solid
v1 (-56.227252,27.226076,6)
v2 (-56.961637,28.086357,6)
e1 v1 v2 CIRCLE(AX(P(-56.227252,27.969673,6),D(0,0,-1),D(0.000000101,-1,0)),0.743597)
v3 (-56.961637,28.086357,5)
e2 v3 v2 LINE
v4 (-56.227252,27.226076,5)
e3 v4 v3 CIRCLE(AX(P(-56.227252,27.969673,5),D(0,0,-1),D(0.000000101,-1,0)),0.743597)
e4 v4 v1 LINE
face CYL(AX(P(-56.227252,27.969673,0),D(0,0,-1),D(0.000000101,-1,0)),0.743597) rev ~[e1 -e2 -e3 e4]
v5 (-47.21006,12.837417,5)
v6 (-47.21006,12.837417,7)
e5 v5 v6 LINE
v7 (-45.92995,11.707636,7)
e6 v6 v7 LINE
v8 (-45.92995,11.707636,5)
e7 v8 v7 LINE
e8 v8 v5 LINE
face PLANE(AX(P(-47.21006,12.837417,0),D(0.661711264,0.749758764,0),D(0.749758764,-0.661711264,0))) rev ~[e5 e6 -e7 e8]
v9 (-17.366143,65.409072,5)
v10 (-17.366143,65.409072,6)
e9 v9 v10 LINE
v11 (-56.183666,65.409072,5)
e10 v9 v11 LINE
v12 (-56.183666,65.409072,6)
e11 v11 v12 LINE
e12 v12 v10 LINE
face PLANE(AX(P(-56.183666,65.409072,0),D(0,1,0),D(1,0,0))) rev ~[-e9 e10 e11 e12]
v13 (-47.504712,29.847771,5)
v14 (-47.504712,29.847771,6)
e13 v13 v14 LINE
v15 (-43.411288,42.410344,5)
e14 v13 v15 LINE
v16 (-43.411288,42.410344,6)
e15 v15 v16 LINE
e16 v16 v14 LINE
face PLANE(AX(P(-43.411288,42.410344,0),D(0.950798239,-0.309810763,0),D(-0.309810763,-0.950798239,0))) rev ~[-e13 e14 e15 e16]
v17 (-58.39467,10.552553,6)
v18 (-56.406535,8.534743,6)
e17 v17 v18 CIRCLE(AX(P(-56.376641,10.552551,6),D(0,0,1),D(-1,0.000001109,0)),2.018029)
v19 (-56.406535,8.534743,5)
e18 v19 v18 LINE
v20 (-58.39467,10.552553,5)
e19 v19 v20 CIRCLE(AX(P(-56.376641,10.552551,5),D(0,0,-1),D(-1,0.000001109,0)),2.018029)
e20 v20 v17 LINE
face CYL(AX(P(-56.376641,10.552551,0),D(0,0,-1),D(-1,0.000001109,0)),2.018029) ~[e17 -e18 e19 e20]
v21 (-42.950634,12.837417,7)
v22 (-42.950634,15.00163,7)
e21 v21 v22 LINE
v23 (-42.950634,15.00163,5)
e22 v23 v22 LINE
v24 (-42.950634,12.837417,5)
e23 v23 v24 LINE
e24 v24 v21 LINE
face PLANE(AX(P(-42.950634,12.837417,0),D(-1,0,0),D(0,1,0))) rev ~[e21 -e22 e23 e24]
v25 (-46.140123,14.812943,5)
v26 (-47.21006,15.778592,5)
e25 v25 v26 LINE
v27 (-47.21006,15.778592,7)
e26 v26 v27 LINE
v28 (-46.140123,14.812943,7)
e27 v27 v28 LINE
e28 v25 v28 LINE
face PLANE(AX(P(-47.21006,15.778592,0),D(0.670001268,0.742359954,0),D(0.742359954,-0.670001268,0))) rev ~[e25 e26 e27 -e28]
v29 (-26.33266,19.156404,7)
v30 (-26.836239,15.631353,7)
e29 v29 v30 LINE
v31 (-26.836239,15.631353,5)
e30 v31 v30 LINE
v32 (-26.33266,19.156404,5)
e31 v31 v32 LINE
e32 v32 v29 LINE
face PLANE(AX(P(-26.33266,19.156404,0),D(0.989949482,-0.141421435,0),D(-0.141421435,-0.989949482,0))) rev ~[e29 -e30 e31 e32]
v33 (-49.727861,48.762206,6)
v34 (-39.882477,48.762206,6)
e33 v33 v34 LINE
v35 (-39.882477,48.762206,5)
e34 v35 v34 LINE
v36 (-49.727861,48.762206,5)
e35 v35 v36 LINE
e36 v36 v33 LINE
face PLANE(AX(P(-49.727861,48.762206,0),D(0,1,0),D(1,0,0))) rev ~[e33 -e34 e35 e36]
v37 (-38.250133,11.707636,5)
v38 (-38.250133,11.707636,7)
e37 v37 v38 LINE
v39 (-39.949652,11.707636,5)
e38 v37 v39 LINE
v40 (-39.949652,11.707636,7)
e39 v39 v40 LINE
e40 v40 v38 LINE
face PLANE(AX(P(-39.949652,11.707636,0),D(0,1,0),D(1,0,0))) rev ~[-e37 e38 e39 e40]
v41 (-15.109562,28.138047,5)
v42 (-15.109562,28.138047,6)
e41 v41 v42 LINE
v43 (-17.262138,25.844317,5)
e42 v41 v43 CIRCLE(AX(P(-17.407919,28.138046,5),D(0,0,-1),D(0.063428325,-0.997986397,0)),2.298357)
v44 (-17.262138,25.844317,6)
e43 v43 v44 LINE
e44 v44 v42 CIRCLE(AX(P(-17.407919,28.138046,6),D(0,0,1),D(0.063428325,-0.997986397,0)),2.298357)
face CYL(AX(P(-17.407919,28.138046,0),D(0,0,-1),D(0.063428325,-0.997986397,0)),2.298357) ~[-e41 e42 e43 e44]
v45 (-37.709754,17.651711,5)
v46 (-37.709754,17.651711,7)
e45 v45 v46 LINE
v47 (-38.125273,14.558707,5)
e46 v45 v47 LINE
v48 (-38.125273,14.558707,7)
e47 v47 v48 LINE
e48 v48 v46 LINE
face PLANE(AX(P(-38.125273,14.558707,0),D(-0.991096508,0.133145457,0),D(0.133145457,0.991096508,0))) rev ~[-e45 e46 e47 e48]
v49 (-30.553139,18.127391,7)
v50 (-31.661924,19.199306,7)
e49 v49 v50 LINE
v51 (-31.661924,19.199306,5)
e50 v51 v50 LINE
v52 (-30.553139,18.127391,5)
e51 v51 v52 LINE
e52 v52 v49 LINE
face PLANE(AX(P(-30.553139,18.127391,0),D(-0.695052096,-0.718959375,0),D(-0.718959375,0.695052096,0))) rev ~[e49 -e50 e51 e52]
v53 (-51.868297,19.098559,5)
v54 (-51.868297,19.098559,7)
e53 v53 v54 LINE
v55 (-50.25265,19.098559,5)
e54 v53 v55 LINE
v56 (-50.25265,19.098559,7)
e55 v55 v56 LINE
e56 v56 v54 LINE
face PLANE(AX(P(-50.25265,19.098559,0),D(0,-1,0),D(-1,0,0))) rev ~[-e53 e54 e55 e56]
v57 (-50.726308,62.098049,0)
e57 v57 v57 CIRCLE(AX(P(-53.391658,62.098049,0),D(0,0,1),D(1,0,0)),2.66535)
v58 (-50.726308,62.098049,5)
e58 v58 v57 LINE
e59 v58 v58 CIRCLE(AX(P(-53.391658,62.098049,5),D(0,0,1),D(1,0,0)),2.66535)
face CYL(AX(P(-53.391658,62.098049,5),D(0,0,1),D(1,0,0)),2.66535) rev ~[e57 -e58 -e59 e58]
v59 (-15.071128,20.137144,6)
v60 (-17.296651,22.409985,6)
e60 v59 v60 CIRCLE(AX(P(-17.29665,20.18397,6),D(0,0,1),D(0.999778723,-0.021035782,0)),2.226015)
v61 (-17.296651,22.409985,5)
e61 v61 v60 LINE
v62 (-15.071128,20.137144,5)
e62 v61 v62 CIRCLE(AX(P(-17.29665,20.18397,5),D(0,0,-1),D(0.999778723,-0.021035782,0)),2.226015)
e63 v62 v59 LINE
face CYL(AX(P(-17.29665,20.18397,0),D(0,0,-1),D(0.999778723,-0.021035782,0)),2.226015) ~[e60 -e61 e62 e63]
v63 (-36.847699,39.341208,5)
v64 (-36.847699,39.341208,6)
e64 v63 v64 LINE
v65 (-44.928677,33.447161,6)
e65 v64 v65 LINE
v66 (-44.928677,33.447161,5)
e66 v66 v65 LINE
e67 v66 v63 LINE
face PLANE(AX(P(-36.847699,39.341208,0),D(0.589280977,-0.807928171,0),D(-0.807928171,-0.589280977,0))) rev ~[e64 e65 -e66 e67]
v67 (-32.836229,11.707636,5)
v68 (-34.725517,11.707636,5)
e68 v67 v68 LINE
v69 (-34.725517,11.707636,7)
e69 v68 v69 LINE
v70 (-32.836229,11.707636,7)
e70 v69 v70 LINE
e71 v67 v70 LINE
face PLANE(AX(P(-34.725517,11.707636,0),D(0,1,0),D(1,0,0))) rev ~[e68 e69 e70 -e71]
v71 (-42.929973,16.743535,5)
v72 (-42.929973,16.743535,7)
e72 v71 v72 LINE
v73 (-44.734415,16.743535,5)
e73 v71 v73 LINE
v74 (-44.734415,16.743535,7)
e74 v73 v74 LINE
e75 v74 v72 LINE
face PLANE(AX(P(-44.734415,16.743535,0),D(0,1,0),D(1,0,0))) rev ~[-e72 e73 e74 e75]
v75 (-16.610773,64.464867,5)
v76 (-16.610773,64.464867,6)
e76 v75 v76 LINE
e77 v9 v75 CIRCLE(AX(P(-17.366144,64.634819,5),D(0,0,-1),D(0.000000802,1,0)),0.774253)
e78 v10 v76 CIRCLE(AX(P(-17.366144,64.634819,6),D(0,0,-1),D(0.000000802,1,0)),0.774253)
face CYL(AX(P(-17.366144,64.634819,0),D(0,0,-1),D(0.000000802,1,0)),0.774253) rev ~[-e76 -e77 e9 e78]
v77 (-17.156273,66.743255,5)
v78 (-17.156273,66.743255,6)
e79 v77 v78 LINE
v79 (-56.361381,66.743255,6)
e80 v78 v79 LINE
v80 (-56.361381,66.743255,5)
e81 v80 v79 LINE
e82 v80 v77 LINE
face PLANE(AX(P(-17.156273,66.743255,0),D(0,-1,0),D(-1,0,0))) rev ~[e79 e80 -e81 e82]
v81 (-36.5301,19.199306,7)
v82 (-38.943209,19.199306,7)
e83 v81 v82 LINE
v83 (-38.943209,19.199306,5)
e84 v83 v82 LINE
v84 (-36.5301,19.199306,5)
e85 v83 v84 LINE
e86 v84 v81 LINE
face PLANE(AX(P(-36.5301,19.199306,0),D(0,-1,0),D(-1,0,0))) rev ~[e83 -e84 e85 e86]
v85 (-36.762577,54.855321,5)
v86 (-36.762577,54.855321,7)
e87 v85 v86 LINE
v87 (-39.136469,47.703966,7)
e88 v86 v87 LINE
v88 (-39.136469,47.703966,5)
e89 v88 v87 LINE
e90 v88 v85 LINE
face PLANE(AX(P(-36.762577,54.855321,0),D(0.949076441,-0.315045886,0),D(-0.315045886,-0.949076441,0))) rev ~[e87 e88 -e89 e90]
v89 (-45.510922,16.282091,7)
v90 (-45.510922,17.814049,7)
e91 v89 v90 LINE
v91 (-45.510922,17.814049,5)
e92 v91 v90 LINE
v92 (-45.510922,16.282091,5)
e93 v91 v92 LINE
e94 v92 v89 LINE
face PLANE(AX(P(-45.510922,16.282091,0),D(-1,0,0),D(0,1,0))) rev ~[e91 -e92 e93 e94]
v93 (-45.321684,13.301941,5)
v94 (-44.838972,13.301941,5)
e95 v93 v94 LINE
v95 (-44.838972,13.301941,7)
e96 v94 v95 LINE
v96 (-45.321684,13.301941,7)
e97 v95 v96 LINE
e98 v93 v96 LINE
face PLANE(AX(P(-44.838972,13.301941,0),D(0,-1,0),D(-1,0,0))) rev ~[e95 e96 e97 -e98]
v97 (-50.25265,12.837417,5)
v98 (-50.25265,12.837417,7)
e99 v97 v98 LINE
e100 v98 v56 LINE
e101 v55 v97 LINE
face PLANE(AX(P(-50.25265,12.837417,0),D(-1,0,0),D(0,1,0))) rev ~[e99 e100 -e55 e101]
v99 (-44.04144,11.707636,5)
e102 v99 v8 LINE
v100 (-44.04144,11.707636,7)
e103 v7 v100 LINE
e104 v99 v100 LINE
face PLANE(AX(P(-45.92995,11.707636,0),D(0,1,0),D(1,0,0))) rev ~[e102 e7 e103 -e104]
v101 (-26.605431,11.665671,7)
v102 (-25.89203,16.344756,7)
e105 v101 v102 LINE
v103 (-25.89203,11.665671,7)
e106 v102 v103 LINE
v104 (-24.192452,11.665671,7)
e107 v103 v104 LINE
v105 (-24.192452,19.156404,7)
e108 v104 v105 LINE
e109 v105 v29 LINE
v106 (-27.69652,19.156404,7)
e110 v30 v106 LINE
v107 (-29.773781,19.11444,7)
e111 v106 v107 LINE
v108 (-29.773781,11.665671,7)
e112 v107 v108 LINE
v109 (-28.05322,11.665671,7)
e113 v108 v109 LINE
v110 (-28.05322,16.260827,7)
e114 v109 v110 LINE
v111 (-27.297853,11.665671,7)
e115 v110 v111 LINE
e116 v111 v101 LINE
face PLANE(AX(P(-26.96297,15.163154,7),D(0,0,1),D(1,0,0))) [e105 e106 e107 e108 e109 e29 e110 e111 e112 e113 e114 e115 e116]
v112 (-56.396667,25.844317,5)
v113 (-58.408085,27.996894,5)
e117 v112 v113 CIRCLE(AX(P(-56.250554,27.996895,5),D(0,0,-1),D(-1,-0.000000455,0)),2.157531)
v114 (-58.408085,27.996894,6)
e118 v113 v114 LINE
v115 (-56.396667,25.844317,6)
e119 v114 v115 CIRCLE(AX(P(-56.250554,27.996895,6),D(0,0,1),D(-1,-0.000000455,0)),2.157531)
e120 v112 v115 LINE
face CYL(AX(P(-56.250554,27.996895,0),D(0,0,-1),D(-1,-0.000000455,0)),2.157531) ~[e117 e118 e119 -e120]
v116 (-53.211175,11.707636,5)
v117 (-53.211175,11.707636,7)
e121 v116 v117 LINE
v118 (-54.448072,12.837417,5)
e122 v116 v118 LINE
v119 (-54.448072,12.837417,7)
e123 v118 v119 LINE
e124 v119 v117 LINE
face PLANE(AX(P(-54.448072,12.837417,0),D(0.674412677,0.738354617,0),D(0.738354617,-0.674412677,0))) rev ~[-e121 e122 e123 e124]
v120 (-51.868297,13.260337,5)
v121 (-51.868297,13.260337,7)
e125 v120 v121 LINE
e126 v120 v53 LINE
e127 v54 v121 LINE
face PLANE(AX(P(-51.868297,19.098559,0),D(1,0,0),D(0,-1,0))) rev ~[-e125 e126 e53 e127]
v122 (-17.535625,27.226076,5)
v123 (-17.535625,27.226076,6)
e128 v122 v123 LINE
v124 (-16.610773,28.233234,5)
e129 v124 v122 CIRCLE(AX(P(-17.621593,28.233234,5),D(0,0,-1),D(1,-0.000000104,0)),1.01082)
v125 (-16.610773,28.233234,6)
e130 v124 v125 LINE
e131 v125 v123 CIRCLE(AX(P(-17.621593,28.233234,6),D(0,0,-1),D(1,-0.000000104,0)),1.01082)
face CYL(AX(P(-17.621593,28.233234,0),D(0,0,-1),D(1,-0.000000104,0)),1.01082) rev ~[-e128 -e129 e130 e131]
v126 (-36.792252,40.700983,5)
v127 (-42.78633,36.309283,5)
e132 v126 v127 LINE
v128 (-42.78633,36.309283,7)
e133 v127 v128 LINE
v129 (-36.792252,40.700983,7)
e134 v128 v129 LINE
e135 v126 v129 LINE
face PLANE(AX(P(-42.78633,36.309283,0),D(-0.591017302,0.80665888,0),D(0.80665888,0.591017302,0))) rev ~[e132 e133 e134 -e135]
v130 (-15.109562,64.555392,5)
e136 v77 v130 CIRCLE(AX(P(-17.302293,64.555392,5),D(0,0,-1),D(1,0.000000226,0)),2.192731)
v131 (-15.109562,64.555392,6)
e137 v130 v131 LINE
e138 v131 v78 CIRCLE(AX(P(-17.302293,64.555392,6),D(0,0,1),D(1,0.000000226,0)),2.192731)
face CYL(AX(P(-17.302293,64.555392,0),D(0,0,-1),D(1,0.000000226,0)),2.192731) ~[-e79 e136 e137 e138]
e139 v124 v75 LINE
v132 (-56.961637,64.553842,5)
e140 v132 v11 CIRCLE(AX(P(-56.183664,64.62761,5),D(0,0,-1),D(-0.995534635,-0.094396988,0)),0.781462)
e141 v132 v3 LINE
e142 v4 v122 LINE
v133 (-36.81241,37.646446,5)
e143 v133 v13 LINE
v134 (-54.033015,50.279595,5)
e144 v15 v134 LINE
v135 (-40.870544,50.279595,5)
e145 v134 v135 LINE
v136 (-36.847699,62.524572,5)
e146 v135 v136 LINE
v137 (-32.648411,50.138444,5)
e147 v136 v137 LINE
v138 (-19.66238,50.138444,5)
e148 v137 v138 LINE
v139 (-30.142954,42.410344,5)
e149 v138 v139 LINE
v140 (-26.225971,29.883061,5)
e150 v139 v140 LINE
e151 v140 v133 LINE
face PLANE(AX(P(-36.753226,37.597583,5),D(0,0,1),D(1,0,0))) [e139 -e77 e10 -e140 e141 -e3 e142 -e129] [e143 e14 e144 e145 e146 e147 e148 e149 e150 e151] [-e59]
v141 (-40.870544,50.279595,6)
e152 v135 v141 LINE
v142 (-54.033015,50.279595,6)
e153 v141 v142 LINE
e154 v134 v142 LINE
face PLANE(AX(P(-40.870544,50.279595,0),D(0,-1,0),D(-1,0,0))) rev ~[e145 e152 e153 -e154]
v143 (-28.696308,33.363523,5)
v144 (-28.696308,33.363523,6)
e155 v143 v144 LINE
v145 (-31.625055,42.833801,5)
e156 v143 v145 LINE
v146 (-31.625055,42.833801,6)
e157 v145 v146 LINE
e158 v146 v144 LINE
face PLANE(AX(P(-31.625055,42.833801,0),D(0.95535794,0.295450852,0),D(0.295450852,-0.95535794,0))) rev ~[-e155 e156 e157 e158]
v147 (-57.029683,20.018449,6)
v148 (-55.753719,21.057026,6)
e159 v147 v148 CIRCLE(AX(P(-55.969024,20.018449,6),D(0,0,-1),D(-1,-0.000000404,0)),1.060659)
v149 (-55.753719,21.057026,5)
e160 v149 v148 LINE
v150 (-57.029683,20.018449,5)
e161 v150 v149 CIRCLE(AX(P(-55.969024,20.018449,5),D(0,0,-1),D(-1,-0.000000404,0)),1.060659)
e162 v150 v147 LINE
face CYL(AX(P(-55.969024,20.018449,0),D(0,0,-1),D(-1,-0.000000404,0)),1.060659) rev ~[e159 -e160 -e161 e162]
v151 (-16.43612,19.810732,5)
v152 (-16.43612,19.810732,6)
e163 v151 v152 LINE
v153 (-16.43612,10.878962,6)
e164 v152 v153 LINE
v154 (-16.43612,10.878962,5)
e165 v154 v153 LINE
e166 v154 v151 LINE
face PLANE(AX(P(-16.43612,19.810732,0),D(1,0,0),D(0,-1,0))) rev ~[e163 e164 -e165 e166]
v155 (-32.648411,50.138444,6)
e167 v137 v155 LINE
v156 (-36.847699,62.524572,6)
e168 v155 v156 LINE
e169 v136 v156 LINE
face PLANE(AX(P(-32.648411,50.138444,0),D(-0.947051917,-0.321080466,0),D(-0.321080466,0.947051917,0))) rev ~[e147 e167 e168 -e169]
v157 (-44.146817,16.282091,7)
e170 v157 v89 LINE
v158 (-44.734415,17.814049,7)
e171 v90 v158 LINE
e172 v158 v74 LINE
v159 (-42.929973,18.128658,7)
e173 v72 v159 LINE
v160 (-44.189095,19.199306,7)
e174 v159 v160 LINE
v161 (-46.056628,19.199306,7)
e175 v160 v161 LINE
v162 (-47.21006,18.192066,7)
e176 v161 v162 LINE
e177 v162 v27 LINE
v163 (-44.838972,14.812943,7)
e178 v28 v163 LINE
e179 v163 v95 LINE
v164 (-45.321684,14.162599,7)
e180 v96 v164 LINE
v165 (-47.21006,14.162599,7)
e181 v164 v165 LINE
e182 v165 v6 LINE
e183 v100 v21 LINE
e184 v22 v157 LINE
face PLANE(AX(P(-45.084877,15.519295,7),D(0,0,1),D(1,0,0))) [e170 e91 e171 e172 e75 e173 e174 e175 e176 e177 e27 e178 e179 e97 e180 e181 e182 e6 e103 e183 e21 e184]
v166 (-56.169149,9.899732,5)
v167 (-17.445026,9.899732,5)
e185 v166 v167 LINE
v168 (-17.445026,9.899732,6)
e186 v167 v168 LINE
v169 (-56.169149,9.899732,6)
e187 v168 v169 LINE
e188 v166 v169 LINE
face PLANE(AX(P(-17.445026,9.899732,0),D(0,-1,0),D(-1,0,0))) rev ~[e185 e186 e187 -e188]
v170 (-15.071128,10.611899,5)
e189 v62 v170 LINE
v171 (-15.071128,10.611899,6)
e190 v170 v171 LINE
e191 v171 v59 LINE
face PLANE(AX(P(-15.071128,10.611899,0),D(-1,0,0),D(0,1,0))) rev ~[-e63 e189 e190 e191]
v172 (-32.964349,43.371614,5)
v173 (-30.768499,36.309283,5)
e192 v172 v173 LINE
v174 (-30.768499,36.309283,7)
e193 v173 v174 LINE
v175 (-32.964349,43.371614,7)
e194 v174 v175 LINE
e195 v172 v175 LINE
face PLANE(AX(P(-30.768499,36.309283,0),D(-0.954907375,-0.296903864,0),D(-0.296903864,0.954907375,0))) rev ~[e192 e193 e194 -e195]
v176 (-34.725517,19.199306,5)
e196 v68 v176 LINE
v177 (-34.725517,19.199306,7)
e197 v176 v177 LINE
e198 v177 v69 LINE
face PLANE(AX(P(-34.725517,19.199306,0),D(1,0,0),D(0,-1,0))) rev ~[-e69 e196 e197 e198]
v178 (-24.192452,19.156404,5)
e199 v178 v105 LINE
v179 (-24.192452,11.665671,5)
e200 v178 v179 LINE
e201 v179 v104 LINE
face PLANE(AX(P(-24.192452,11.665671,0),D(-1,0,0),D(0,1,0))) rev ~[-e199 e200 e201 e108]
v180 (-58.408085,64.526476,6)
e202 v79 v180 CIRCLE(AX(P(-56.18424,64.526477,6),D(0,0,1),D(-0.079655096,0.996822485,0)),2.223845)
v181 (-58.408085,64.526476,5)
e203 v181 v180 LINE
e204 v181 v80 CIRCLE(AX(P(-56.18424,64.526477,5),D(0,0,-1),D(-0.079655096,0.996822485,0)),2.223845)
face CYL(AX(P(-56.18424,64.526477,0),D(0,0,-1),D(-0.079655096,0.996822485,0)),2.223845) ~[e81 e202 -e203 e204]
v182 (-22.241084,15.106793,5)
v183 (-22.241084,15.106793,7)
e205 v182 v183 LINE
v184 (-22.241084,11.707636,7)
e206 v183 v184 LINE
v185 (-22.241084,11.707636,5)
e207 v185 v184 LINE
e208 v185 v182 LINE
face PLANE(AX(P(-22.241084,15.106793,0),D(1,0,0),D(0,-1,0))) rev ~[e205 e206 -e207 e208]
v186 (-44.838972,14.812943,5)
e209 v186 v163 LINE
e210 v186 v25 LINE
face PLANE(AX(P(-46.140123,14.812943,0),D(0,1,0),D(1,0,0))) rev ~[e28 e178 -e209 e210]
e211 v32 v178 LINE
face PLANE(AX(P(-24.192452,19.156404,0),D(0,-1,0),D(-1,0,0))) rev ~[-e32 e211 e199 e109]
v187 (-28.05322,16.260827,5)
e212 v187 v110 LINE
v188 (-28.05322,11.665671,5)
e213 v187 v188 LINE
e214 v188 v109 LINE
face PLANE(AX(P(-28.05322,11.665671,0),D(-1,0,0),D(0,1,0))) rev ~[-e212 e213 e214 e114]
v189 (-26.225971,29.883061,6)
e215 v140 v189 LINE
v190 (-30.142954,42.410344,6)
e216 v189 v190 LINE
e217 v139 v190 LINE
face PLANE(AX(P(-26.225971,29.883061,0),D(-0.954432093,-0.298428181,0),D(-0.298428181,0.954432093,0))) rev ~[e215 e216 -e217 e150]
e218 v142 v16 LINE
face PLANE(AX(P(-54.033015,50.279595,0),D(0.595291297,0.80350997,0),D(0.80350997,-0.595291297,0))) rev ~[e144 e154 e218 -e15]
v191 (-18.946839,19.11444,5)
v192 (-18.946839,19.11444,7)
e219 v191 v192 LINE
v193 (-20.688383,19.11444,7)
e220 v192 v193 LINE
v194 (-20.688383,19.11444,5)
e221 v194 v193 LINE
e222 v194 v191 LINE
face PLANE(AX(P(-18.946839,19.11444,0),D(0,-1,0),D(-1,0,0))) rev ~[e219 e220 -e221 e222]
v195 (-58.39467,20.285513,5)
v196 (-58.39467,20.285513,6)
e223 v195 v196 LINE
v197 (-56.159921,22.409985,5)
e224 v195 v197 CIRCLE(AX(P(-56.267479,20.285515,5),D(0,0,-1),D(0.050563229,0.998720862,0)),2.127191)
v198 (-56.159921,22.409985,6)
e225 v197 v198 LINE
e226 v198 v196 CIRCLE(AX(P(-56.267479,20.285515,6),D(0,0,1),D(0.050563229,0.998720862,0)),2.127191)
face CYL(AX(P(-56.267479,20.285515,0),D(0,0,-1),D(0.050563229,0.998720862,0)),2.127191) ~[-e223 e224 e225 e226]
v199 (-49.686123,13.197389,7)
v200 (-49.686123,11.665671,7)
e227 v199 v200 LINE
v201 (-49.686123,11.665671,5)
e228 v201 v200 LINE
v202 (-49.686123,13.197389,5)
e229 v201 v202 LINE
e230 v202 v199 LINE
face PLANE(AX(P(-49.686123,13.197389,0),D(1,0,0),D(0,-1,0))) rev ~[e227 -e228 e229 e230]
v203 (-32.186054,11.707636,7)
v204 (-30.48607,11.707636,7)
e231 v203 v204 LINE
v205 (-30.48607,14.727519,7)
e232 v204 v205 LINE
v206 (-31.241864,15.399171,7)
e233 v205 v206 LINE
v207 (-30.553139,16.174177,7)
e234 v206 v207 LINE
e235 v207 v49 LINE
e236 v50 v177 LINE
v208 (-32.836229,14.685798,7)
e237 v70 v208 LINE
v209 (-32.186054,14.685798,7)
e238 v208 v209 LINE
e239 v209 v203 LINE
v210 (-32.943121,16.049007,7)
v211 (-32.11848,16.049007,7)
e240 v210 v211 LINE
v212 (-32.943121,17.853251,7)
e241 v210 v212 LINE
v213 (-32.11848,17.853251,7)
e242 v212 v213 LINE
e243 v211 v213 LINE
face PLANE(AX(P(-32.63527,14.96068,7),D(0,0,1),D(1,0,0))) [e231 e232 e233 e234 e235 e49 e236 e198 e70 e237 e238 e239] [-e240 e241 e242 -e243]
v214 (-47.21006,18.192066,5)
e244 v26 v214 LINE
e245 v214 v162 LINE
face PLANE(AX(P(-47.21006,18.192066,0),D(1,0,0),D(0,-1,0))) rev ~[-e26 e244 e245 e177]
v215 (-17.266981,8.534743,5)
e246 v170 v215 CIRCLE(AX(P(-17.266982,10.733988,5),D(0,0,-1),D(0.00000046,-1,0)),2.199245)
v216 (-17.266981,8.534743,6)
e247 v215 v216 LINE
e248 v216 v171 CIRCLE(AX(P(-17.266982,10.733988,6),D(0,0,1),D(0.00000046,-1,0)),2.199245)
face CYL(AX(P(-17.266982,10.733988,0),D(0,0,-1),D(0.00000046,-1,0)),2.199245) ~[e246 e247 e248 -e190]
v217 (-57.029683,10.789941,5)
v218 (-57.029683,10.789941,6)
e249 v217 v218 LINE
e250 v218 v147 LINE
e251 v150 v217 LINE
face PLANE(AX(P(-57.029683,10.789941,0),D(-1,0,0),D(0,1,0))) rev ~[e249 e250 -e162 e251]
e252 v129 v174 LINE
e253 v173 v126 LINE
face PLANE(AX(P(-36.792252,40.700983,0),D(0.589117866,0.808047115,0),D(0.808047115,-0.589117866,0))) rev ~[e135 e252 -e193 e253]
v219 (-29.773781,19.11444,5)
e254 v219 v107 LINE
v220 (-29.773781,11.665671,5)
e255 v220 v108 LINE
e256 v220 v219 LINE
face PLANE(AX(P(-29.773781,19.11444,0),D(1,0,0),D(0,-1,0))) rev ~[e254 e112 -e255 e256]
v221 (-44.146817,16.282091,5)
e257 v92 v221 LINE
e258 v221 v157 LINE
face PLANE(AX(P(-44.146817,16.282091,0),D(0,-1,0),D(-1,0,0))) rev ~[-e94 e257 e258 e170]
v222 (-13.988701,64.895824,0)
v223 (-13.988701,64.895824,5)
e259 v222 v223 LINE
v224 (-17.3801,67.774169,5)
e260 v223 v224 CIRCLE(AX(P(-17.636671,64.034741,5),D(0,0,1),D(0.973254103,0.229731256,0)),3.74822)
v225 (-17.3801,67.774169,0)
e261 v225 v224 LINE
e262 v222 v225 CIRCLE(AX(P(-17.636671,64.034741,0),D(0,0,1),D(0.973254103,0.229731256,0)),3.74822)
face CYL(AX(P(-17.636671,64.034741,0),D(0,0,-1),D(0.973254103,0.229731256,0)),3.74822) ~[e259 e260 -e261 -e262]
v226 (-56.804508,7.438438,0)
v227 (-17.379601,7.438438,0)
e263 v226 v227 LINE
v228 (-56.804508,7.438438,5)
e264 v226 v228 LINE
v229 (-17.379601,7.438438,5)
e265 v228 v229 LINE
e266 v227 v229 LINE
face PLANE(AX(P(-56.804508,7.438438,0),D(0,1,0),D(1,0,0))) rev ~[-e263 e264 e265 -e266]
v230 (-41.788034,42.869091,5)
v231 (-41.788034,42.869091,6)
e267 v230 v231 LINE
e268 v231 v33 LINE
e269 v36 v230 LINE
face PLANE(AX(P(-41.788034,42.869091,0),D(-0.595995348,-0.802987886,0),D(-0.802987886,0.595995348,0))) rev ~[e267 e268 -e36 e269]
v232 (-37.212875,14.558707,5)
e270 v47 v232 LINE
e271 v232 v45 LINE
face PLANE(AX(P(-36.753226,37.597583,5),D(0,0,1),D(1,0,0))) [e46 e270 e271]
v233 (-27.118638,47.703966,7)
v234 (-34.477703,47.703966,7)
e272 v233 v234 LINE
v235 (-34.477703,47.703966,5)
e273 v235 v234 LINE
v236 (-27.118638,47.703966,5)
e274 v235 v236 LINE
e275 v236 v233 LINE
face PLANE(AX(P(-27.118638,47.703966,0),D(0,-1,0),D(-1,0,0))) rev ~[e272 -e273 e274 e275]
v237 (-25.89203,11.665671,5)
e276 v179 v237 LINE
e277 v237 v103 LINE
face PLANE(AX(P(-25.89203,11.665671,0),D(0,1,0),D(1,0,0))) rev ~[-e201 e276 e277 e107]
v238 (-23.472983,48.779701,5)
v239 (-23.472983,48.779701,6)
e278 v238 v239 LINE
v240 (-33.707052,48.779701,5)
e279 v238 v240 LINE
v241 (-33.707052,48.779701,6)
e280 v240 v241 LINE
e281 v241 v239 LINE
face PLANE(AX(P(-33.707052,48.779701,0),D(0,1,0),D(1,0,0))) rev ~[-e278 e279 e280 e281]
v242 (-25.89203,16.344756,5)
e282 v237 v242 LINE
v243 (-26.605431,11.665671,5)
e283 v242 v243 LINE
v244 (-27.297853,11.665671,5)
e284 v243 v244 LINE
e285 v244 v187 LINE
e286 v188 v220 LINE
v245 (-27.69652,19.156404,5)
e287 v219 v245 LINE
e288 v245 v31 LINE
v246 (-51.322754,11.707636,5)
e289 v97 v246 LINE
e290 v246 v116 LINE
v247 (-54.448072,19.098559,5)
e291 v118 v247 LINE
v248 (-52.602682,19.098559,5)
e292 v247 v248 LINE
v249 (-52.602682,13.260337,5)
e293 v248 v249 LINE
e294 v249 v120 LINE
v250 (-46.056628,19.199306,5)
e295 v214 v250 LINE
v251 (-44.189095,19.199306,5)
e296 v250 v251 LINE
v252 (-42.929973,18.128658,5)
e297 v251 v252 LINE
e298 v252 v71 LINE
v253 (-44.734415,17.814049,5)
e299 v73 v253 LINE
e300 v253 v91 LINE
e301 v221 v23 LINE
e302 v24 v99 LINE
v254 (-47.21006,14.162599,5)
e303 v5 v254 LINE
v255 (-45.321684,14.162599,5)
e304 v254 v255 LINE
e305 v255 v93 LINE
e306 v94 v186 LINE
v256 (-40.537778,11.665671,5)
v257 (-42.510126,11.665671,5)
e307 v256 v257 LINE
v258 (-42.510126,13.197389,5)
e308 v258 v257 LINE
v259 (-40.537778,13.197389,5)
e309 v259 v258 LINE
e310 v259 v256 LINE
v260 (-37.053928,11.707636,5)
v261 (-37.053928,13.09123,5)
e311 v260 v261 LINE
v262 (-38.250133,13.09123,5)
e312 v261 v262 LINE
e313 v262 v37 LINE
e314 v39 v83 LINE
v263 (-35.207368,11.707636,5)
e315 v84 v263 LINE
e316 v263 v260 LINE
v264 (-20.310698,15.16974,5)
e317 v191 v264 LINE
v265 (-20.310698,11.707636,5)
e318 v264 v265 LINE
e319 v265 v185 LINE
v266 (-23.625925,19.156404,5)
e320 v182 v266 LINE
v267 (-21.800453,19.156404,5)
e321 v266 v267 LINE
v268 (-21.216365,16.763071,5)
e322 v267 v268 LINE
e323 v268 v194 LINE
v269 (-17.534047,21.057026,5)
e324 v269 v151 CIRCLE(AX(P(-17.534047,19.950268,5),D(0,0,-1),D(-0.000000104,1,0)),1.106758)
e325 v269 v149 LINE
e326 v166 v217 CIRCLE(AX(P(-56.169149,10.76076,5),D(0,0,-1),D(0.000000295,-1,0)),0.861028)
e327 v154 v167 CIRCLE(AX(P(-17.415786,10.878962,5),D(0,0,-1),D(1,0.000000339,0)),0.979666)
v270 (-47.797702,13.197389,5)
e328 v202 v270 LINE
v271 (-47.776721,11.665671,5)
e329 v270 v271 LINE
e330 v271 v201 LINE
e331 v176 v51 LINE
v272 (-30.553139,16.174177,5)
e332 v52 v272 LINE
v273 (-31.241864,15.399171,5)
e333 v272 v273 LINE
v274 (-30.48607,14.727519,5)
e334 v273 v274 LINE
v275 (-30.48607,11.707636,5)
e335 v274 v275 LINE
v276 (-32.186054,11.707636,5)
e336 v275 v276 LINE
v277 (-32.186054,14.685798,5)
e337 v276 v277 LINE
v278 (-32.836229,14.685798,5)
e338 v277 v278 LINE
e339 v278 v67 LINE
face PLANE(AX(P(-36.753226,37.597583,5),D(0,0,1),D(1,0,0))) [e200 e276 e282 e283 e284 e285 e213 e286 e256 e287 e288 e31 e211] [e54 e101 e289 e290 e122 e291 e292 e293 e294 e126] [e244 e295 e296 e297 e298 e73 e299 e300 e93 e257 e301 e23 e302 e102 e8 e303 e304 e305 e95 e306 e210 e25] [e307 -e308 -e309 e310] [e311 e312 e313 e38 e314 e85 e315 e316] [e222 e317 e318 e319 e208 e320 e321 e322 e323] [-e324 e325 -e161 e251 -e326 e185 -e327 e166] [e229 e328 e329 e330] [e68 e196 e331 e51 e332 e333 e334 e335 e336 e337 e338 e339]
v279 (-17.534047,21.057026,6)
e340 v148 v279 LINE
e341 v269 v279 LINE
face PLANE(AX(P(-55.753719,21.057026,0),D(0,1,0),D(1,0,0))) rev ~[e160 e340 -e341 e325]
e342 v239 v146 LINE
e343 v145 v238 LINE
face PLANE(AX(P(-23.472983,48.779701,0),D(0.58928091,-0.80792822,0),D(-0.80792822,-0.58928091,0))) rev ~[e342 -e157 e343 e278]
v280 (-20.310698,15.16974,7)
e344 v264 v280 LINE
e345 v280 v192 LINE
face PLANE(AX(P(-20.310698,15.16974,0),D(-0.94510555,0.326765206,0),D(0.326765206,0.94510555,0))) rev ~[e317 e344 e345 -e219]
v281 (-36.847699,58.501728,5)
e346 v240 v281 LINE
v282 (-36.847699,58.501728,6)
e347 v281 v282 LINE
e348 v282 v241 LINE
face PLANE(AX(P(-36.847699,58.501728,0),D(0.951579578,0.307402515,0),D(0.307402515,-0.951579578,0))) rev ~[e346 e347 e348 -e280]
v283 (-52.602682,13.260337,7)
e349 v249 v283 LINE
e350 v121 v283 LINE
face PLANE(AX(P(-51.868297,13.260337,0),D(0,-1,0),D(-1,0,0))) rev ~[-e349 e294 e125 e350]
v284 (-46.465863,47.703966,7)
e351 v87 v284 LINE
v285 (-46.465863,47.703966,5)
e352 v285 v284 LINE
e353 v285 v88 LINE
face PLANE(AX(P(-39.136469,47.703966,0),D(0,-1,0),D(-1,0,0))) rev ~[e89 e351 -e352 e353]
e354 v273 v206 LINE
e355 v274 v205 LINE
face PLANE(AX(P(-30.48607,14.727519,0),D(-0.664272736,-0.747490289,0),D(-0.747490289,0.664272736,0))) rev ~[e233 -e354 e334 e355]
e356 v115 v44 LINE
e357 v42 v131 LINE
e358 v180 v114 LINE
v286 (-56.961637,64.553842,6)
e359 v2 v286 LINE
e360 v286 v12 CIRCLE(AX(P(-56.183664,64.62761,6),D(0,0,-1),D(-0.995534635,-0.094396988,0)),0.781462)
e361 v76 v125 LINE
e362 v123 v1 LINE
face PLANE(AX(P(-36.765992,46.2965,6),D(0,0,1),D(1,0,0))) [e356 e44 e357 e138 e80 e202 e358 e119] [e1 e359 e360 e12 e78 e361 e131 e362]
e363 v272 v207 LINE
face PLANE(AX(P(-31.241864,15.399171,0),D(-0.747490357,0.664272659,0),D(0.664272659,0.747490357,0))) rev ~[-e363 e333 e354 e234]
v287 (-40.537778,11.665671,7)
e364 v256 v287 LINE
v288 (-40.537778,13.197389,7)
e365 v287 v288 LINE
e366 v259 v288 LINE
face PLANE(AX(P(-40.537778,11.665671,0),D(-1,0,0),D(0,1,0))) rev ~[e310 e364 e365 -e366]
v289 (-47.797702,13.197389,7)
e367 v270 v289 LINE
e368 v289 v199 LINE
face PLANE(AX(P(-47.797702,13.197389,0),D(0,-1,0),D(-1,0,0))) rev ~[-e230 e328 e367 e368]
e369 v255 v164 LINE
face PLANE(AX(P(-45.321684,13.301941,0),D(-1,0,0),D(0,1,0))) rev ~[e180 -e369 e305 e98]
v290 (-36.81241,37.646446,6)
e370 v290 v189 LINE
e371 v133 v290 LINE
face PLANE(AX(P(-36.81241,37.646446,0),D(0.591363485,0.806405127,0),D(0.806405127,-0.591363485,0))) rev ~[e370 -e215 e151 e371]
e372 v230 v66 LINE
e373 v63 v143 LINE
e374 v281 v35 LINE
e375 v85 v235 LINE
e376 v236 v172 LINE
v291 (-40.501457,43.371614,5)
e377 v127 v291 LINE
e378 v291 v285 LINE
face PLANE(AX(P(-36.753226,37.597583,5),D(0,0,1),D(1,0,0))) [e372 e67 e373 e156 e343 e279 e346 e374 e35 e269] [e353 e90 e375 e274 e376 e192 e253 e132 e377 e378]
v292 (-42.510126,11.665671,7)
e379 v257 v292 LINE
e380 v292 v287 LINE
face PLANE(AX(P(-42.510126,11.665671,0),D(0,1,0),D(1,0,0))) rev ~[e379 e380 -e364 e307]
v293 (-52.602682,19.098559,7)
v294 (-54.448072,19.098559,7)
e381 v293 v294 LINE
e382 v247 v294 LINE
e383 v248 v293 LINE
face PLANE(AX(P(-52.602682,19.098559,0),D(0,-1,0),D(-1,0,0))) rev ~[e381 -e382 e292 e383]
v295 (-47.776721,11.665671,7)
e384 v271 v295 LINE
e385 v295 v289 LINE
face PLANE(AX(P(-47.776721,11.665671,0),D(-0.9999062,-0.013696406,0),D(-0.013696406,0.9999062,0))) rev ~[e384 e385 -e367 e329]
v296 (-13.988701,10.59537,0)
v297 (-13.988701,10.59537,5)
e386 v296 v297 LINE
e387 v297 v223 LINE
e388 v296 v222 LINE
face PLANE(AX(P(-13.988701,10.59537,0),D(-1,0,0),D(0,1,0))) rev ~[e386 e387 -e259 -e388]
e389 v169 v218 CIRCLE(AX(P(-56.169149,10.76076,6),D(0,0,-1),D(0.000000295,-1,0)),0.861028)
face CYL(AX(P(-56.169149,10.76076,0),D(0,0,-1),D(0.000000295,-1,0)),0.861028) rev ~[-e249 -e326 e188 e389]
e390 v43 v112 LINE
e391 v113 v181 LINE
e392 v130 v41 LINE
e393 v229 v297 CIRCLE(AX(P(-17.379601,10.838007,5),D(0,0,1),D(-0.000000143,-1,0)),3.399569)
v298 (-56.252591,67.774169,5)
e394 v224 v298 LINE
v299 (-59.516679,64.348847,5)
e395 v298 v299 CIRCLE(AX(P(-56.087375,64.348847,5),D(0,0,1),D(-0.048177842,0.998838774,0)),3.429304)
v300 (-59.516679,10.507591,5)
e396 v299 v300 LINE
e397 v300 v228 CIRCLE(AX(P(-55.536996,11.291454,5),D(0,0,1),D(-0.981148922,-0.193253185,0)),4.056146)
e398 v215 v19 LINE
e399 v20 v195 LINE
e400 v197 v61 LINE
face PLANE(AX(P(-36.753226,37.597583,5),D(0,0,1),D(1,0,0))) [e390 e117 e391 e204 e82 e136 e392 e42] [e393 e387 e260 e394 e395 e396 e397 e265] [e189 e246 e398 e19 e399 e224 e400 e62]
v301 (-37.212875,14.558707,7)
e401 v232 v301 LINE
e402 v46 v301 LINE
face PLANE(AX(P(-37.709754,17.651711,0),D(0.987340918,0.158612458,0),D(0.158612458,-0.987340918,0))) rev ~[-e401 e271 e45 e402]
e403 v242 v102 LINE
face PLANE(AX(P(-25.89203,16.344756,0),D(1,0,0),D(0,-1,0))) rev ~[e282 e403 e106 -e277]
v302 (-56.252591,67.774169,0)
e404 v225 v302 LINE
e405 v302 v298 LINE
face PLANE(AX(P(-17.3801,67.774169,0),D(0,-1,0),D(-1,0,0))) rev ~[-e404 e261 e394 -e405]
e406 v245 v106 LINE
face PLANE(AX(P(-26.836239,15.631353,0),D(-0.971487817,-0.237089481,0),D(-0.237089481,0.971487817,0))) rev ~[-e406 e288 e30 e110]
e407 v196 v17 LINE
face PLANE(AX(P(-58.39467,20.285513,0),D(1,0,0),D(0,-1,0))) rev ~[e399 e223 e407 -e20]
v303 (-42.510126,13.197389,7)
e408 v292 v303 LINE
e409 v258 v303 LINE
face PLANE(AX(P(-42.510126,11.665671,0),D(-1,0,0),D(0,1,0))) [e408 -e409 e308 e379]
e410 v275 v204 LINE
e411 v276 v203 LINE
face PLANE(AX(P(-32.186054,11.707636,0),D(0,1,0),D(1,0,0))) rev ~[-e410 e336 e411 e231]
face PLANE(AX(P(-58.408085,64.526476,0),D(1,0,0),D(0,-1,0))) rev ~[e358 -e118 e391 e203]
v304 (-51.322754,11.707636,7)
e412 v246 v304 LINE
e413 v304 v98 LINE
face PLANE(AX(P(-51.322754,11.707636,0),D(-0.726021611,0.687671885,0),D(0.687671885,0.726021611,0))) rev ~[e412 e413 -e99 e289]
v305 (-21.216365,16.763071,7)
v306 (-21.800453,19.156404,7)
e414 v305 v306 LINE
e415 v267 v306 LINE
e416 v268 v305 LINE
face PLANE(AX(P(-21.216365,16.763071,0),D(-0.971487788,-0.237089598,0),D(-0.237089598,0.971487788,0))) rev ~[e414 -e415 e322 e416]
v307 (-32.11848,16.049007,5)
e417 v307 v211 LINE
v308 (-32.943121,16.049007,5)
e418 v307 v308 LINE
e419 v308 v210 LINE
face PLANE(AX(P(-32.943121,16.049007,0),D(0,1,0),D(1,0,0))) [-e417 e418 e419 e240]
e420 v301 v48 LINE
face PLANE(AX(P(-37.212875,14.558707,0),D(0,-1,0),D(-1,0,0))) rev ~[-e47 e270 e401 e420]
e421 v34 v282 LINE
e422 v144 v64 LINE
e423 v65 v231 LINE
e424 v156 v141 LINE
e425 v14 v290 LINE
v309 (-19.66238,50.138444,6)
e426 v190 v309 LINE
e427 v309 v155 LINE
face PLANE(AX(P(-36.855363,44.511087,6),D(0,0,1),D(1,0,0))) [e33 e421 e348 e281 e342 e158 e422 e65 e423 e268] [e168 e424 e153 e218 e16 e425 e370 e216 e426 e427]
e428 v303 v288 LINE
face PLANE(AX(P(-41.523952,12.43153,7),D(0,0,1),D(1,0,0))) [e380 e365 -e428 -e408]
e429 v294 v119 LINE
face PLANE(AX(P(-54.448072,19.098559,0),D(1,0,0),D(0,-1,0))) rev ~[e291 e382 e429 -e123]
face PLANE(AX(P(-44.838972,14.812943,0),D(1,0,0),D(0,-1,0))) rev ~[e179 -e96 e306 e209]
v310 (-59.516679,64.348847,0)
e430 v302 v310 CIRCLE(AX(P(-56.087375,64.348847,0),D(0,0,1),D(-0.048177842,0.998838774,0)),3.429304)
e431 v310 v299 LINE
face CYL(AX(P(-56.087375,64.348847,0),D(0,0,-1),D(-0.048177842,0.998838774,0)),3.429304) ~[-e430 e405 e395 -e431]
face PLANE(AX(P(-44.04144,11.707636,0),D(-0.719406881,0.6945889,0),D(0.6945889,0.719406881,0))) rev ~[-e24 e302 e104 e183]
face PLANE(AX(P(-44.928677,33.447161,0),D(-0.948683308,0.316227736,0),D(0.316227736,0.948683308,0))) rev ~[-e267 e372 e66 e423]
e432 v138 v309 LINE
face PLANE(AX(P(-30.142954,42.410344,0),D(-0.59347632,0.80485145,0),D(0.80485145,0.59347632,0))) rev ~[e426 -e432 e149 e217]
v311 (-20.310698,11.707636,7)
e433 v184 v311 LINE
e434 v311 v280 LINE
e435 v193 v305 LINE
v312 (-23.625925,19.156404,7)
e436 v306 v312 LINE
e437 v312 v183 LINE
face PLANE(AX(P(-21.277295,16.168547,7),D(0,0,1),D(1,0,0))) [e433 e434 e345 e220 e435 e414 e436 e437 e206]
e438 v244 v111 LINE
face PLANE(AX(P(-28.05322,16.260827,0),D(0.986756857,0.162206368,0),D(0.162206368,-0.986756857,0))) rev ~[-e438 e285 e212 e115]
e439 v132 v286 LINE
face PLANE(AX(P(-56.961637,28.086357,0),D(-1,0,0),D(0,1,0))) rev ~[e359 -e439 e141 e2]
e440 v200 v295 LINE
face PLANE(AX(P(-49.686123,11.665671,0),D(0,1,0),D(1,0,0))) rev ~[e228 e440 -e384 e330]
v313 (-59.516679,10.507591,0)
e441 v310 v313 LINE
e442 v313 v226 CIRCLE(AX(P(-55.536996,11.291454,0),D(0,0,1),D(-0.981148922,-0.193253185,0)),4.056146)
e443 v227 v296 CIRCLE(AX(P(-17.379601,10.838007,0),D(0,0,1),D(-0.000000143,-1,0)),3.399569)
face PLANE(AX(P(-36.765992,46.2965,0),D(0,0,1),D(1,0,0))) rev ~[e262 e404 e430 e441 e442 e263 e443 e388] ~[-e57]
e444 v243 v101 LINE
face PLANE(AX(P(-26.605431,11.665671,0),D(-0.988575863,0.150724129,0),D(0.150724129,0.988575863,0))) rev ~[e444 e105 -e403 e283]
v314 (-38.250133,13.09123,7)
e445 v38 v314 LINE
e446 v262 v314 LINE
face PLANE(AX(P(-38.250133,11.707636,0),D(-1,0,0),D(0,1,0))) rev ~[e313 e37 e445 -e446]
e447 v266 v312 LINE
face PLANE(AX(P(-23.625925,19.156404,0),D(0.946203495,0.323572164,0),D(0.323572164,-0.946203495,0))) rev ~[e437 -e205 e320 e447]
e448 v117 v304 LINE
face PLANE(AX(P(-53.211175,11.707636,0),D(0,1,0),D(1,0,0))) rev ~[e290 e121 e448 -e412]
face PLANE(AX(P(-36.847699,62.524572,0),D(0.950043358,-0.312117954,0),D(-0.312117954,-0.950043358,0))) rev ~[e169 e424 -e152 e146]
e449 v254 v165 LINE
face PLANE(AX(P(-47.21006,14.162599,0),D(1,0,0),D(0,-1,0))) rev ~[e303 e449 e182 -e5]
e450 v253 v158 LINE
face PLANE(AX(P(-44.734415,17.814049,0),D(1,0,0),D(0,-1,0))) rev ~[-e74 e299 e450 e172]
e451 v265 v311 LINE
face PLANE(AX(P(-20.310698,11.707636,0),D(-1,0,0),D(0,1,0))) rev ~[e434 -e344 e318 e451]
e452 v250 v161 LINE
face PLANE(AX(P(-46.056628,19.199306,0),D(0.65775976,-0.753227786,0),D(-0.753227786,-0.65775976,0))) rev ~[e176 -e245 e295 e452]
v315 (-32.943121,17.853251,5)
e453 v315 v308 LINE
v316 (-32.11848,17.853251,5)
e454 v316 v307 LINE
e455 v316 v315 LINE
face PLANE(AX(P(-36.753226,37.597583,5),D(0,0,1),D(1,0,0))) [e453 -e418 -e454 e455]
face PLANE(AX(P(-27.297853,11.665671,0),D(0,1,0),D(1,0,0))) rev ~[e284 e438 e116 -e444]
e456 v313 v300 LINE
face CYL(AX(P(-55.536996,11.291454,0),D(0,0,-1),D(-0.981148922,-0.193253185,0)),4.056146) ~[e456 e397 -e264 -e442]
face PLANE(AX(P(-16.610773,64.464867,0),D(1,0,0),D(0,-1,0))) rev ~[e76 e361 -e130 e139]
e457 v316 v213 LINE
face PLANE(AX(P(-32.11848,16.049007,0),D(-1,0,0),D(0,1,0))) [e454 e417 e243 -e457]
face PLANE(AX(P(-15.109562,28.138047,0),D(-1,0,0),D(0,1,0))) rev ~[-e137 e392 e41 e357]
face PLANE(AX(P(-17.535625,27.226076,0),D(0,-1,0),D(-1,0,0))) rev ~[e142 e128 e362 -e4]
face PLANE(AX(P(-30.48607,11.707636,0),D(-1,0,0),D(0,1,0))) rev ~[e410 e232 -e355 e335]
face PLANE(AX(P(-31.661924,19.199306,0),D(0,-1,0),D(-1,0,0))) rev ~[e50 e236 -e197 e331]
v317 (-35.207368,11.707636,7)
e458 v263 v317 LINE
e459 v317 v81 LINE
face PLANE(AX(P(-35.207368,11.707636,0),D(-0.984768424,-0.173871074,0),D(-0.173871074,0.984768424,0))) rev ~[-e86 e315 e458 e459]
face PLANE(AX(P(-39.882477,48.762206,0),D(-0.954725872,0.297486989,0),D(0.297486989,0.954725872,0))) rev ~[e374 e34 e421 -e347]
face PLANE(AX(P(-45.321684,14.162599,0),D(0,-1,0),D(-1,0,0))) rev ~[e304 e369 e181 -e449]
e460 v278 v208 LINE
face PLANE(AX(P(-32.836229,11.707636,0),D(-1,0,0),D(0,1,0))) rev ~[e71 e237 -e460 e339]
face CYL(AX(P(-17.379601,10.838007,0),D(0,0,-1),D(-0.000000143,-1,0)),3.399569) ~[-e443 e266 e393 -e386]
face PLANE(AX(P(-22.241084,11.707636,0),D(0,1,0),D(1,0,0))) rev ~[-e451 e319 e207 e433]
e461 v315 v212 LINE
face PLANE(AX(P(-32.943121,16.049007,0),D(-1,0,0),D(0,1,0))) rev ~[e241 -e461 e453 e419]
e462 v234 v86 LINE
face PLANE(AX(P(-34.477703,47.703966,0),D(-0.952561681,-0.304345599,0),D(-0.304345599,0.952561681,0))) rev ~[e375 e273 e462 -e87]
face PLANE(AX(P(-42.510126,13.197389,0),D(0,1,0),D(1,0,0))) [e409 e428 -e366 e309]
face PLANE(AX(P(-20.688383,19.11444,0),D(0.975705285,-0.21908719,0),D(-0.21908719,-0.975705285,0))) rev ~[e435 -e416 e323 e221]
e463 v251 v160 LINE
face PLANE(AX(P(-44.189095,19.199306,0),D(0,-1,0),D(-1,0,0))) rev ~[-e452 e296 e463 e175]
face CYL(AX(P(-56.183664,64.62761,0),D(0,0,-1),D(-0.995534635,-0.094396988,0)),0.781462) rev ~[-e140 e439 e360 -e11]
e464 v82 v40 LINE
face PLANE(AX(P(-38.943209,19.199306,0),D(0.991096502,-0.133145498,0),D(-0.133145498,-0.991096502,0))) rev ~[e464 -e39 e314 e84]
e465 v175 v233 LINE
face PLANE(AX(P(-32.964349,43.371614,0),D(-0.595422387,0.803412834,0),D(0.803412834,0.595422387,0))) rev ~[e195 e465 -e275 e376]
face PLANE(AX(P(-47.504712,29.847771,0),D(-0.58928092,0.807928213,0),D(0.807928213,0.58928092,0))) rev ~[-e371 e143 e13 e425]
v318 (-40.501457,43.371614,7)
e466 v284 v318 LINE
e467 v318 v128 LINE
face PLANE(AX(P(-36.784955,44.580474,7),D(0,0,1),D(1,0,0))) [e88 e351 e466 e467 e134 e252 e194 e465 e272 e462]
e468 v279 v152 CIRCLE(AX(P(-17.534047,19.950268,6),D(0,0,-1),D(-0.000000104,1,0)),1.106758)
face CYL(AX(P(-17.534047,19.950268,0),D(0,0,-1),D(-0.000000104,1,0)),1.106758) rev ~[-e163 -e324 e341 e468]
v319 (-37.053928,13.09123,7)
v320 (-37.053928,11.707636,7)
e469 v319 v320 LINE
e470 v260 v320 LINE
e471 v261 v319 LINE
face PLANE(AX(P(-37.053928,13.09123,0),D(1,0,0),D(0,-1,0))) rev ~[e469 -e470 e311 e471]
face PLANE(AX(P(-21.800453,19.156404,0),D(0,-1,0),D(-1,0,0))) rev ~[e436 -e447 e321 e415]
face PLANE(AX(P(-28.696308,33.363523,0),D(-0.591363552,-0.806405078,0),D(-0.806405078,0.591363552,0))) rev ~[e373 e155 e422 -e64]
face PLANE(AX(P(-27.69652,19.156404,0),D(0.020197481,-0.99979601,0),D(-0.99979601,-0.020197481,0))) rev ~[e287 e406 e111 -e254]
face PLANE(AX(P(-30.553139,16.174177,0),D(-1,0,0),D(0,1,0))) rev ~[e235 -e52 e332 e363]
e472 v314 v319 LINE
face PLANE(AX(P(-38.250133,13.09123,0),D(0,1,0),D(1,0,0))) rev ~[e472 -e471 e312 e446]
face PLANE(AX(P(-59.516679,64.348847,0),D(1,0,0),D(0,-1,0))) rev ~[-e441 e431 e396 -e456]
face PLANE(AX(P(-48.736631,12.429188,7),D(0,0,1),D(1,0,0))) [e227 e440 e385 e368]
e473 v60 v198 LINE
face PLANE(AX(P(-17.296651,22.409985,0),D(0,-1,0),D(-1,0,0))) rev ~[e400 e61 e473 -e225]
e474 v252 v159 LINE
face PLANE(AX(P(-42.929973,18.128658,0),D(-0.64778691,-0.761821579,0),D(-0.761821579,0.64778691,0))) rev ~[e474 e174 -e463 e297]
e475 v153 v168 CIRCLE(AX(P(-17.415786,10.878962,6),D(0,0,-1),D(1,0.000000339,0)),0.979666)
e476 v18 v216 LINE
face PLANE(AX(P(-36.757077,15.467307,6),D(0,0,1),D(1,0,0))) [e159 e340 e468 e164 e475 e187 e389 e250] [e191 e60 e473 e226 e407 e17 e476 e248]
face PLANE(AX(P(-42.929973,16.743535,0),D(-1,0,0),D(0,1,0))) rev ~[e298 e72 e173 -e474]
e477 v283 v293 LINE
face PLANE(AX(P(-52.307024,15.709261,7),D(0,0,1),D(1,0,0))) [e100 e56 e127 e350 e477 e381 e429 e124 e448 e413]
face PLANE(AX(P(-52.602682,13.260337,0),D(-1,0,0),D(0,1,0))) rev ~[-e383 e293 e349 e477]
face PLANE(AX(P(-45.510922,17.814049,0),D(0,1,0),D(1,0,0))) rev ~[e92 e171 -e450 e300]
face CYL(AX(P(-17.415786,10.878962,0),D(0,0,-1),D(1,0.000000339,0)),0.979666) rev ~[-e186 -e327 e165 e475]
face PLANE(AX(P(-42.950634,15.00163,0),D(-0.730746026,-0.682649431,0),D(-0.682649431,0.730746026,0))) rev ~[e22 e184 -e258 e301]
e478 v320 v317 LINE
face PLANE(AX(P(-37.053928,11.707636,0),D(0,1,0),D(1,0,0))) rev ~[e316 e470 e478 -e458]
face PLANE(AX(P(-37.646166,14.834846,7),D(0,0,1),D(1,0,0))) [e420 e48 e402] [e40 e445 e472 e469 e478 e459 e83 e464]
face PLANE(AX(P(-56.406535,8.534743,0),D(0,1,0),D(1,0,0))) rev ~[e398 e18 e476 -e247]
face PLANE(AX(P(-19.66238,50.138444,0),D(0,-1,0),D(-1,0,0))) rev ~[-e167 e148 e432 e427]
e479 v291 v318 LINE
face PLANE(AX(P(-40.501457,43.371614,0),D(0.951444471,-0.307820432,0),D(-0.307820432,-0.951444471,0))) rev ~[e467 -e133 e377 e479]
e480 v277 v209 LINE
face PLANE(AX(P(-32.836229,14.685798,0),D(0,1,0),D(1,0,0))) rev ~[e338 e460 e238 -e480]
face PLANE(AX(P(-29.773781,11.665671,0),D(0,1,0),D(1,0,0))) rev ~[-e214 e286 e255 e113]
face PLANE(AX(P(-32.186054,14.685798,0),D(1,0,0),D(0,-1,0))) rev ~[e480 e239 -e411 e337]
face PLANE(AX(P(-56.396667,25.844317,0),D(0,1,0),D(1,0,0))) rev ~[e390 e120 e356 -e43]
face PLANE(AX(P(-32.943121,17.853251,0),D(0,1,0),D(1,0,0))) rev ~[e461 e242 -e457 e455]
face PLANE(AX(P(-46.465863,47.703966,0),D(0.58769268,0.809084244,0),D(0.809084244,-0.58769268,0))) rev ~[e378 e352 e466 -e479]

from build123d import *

# Parameters (mm, degrees)
F3_DEPTH = 5
F2_W     = 1.972348
F2_H     = 1.531718
F2_W_2   = 0.824641
F2_H_2   = 1.804244
F4_DEPTH = 7
F5_DEPTH = 6
F6_R     = 2.66535
F7_DEPTH = 25


with BuildPart() as f3:
    # F0 (on Top) → F3 (new body)
    with BuildSketch(Plane.XY):
        with BuildLine():
            ThreePointArc((-56.252591, 67.774169), (-58.569985, 66.714597), (-59.516679, 64.348847))
            Line((-59.516679, 64.348847), (-59.516679, 10.507591))
            ThreePointArc((-59.516679, 10.507591), (-58.576435, 8.605541), (-56.804508, 7.438438))
            Line((-56.804508, 7.438438), (-17.379601, 7.438438))
            ThreePointArc((-17.379601, 7.438438), (-15.063115, 8.349842), (-13.988701, 10.59537))
            Line((-13.988701, 10.59537), (-13.988701, 64.895824))
            ThreePointArc((-13.988701, 64.895824), (-15.211268, 66.892462), (-17.3801, 67.774169))
            Line((-17.3801, 67.774169), (-56.252591, 67.774169))
        make_face()
    extrude(amount=F3_DEPTH)

    # F2 (on face) → F4 (join)
    with BuildSketch(Plane.XY):
        Polygon((-34.477703, 47.703966), (-36.762577, 54.855321), (-39.136469, 47.703966), (-46.465863, 47.703966), (-40.501457, 43.371614), (-42.78633, 36.309283), (-36.792252, 40.700983), (-30.768499, 36.309283), (-32.964349, 43.371614), (-27.118638, 47.703966), align=None)
        Polygon((-52.602682, 19.098559), (-54.448072, 19.098559), (-54.448072, 12.837417), (-53.211175, 11.707636), (-51.322754, 11.707636), (-50.25265, 12.837417), (-50.25265, 19.098559), (-51.868297, 19.098559), (-51.868297, 13.260337), (-52.602682, 13.260337), align=None)
        Polygon((-47.797702, 13.197389), (-49.686123, 13.197389), (-49.686123, 11.665671), (-47.776721, 11.665671), align=None)
        with Locations((-41.523952, 12.43153)):
            Rectangle(F2_W, F2_H)
        Polygon((-27.69652, 19.156404), (-29.773781, 19.11444), (-29.773781, 11.665671), (-28.05322, 11.665671), (-28.05322, 16.260827), (-27.297853, 11.665671), (-26.605431, 11.665671), (-25.89203, 16.344756), (-25.89203, 11.665671), (-24.192452, 11.665671), (-24.192452, 19.156404), (-26.33266, 19.156404), (-26.836239, 15.631353), align=None)
        Polygon((-21.800453, 19.156404), (-23.625925, 19.156404), (-22.241084, 15.106793), (-22.241084, 11.707636), (-20.310698, 11.707636), (-20.310698, 15.16974), (-18.946839, 19.11444), (-20.688383, 19.11444), (-21.216365, 16.763071), align=None)
        Polygon((-44.189095, 19.199306), (-46.056628, 19.199306), (-47.21006, 18.192066), (-47.21006, 15.778592), (-46.140123, 14.812943), (-44.838972, 14.812943), (-44.838972, 13.301941), (-45.321684, 13.301941), (-45.321684, 14.162599), (-47.21006, 14.162599), (-47.21006, 12.837417), (-45.92995, 11.707636), (-44.04144, 11.707636), (-42.950634, 12.837417), (-42.950634, 15.00163), (-44.146817, 16.282091), (-45.510922, 16.282091), (-45.510922, 17.814049), (-44.734415, 17.814049), (-44.734415, 16.743535), (-42.929973, 16.743535), (-42.929973, 18.128658), align=None)
        Polygon((-36.5301, 19.199306), (-38.943209, 19.199306), (-39.949652, 11.707636), (-38.250133, 11.707636), (-38.250133, 13.09123), (-37.053928, 13.09123), (-37.053928, 11.707636), (-35.207368, 11.707636), align=None)
        Polygon((-38.125273, 14.558707), (-37.709754, 17.651711), (-37.212875, 14.558707), align=None, mode=Mode.SUBTRACT)
        Polygon((-31.661924, 19.199306), (-34.725517, 19.199306), (-34.725517, 11.707636), (-32.836229, 11.707636), (-32.836229, 14.685798), (-32.186054, 14.685798), (-32.186054, 11.707636), (-30.48607, 11.707636), (-30.48607, 14.727519), (-31.241864, 15.399171), (-30.553139, 16.174177), (-30.553139, 18.127391), align=None)
        with Locations((-32.530801, 16.951129)):
            Rectangle(F2_W_2, F2_H_2, mode=Mode.SUBTRACT)
    extrude(amount=F4_DEPTH)

    # F1 (on face) → F5 (join)
    with BuildSketch(Plane.XY):
        with BuildLine():
            ThreePointArc((-56.361381, 66.743255), (-57.818165, 66.035044), (-58.408085, 64.526476))
            Line((-58.408085, 64.526476), (-58.408085, 27.996894))
            ThreePointArc((-58.408085, 27.996894), (-57.826971, 26.523854), (-56.396667, 25.844317))
            Line((-56.396667, 25.844317), (-17.262138, 25.844317))
            ThreePointArc((-17.262138, 25.844317), (-15.731986, 26.565248), (-15.109562, 28.138047))
            Line((-15.109562, 28.138047), (-15.109562, 64.555392))
            ThreePointArc((-15.109562, 64.555392), (-15.701004, 66.053371), (-17.156273, 66.743255))
            Line((-17.156273, 66.743255), (-56.361381, 66.743255))
        make_face()
        with BuildLine():
            ThreePointArc((-56.961637, 64.553842), (-56.761735, 65.153459), (-56.183666, 65.409072))
            Line((-56.183666, 65.409072), (-17.366143, 65.409072))
            ThreePointArc((-17.366143, 65.409072), (-16.761555, 65.118493), (-16.610773, 64.464867))
            Line((-16.610773, 64.464867), (-16.610773, 28.233234))
            ThreePointArc((-16.610773, 28.233234), (-16.877061, 27.549546), (-17.535625, 27.226076))
            Line((-17.535625, 27.226076), (-56.227252, 27.226076))
            ThreePointArc((-56.227252, 27.226076), (-56.792806, 27.486884), (-56.961637, 28.086357))
            Line((-56.961637, 28.086357), (-56.961637, 64.553842))
        make_face(mode=Mode.SUBTRACT)
        Polygon((-32.648411, 50.138444), (-36.847699, 62.524572), (-40.870544, 50.279595), (-54.033015, 50.279595), (-43.411288, 42.410344), (-47.504712, 29.847771), (-36.81241, 37.646446), (-26.225971, 29.883061), (-30.142954, 42.410344), (-19.66238, 50.138444), align=None)
        Polygon((-39.882477, 48.762206), (-36.847699, 58.501728), (-33.707052, 48.779701), (-23.472983, 48.779701), (-31.625055, 42.833801), (-28.696308, 33.363523), (-36.847699, 39.341208), (-44.928677, 33.447161), (-41.788034, 42.869091), (-49.727861, 48.762206), align=None, mode=Mode.SUBTRACT)
        with BuildLine():
            Line((-17.296651, 22.409985), (-56.159921, 22.409985))
            ThreePointArc((-56.159921, 22.409985), (-57.73311, 21.827224), (-58.39467, 20.285513))
            Line((-58.39467, 20.285513), (-58.39467, 10.552553))
            ThreePointArc((-58.39467, 10.552553), (-57.814134, 9.136198), (-56.406535, 8.534743))
            Line((-56.406535, 8.534743), (-17.266981, 8.534743))
            ThreePointArc((-17.266981, 8.534743), (-15.755662, 9.136305), (-15.071128, 10.611899))
            Line((-15.071128, 10.611899), (-15.071128, 20.137144))
            ThreePointArc((-15.071128, 20.137144), (-15.706151, 21.741357), (-17.296651, 22.409985))
        make_face()
        with BuildLine():
            Line((-57.029683, 10.789941), (-57.029683, 20.018449))
            ThreePointArc((-57.029683, 20.018449), (-56.638588, 20.841056), (-55.753719, 21.057026))
            Line((-55.753719, 21.057026), (-17.534047, 21.057026))
            ThreePointArc((-17.534047, 21.057026), (-16.703582, 20.68187), (-16.43612, 19.810732))
            Line((-16.43612, 19.810732), (-16.43612, 10.878962))
            ThreePointArc((-16.43612, 10.878962), (-16.733474, 10.175971), (-17.445026, 9.899732))
            Line((-17.445026, 9.899732), (-56.169149, 9.899732))
            ThreePointArc((-56.169149, 9.899732), (-56.788219, 10.162327), (-57.029683, 10.789941))
        make_face(mode=Mode.SUBTRACT)
    extrude(amount=F5_DEPTH)

    # F6 (on face) → F7 (cut)
    with BuildSketch(Plane.XY.offset(5)):
        with Locations((-53.391658, 62.098049)):
            Circle(F6_R)
    extrude(amount=-F7_DEPTH, mode=Mode.SUBTRACT)


solid = f3.part
